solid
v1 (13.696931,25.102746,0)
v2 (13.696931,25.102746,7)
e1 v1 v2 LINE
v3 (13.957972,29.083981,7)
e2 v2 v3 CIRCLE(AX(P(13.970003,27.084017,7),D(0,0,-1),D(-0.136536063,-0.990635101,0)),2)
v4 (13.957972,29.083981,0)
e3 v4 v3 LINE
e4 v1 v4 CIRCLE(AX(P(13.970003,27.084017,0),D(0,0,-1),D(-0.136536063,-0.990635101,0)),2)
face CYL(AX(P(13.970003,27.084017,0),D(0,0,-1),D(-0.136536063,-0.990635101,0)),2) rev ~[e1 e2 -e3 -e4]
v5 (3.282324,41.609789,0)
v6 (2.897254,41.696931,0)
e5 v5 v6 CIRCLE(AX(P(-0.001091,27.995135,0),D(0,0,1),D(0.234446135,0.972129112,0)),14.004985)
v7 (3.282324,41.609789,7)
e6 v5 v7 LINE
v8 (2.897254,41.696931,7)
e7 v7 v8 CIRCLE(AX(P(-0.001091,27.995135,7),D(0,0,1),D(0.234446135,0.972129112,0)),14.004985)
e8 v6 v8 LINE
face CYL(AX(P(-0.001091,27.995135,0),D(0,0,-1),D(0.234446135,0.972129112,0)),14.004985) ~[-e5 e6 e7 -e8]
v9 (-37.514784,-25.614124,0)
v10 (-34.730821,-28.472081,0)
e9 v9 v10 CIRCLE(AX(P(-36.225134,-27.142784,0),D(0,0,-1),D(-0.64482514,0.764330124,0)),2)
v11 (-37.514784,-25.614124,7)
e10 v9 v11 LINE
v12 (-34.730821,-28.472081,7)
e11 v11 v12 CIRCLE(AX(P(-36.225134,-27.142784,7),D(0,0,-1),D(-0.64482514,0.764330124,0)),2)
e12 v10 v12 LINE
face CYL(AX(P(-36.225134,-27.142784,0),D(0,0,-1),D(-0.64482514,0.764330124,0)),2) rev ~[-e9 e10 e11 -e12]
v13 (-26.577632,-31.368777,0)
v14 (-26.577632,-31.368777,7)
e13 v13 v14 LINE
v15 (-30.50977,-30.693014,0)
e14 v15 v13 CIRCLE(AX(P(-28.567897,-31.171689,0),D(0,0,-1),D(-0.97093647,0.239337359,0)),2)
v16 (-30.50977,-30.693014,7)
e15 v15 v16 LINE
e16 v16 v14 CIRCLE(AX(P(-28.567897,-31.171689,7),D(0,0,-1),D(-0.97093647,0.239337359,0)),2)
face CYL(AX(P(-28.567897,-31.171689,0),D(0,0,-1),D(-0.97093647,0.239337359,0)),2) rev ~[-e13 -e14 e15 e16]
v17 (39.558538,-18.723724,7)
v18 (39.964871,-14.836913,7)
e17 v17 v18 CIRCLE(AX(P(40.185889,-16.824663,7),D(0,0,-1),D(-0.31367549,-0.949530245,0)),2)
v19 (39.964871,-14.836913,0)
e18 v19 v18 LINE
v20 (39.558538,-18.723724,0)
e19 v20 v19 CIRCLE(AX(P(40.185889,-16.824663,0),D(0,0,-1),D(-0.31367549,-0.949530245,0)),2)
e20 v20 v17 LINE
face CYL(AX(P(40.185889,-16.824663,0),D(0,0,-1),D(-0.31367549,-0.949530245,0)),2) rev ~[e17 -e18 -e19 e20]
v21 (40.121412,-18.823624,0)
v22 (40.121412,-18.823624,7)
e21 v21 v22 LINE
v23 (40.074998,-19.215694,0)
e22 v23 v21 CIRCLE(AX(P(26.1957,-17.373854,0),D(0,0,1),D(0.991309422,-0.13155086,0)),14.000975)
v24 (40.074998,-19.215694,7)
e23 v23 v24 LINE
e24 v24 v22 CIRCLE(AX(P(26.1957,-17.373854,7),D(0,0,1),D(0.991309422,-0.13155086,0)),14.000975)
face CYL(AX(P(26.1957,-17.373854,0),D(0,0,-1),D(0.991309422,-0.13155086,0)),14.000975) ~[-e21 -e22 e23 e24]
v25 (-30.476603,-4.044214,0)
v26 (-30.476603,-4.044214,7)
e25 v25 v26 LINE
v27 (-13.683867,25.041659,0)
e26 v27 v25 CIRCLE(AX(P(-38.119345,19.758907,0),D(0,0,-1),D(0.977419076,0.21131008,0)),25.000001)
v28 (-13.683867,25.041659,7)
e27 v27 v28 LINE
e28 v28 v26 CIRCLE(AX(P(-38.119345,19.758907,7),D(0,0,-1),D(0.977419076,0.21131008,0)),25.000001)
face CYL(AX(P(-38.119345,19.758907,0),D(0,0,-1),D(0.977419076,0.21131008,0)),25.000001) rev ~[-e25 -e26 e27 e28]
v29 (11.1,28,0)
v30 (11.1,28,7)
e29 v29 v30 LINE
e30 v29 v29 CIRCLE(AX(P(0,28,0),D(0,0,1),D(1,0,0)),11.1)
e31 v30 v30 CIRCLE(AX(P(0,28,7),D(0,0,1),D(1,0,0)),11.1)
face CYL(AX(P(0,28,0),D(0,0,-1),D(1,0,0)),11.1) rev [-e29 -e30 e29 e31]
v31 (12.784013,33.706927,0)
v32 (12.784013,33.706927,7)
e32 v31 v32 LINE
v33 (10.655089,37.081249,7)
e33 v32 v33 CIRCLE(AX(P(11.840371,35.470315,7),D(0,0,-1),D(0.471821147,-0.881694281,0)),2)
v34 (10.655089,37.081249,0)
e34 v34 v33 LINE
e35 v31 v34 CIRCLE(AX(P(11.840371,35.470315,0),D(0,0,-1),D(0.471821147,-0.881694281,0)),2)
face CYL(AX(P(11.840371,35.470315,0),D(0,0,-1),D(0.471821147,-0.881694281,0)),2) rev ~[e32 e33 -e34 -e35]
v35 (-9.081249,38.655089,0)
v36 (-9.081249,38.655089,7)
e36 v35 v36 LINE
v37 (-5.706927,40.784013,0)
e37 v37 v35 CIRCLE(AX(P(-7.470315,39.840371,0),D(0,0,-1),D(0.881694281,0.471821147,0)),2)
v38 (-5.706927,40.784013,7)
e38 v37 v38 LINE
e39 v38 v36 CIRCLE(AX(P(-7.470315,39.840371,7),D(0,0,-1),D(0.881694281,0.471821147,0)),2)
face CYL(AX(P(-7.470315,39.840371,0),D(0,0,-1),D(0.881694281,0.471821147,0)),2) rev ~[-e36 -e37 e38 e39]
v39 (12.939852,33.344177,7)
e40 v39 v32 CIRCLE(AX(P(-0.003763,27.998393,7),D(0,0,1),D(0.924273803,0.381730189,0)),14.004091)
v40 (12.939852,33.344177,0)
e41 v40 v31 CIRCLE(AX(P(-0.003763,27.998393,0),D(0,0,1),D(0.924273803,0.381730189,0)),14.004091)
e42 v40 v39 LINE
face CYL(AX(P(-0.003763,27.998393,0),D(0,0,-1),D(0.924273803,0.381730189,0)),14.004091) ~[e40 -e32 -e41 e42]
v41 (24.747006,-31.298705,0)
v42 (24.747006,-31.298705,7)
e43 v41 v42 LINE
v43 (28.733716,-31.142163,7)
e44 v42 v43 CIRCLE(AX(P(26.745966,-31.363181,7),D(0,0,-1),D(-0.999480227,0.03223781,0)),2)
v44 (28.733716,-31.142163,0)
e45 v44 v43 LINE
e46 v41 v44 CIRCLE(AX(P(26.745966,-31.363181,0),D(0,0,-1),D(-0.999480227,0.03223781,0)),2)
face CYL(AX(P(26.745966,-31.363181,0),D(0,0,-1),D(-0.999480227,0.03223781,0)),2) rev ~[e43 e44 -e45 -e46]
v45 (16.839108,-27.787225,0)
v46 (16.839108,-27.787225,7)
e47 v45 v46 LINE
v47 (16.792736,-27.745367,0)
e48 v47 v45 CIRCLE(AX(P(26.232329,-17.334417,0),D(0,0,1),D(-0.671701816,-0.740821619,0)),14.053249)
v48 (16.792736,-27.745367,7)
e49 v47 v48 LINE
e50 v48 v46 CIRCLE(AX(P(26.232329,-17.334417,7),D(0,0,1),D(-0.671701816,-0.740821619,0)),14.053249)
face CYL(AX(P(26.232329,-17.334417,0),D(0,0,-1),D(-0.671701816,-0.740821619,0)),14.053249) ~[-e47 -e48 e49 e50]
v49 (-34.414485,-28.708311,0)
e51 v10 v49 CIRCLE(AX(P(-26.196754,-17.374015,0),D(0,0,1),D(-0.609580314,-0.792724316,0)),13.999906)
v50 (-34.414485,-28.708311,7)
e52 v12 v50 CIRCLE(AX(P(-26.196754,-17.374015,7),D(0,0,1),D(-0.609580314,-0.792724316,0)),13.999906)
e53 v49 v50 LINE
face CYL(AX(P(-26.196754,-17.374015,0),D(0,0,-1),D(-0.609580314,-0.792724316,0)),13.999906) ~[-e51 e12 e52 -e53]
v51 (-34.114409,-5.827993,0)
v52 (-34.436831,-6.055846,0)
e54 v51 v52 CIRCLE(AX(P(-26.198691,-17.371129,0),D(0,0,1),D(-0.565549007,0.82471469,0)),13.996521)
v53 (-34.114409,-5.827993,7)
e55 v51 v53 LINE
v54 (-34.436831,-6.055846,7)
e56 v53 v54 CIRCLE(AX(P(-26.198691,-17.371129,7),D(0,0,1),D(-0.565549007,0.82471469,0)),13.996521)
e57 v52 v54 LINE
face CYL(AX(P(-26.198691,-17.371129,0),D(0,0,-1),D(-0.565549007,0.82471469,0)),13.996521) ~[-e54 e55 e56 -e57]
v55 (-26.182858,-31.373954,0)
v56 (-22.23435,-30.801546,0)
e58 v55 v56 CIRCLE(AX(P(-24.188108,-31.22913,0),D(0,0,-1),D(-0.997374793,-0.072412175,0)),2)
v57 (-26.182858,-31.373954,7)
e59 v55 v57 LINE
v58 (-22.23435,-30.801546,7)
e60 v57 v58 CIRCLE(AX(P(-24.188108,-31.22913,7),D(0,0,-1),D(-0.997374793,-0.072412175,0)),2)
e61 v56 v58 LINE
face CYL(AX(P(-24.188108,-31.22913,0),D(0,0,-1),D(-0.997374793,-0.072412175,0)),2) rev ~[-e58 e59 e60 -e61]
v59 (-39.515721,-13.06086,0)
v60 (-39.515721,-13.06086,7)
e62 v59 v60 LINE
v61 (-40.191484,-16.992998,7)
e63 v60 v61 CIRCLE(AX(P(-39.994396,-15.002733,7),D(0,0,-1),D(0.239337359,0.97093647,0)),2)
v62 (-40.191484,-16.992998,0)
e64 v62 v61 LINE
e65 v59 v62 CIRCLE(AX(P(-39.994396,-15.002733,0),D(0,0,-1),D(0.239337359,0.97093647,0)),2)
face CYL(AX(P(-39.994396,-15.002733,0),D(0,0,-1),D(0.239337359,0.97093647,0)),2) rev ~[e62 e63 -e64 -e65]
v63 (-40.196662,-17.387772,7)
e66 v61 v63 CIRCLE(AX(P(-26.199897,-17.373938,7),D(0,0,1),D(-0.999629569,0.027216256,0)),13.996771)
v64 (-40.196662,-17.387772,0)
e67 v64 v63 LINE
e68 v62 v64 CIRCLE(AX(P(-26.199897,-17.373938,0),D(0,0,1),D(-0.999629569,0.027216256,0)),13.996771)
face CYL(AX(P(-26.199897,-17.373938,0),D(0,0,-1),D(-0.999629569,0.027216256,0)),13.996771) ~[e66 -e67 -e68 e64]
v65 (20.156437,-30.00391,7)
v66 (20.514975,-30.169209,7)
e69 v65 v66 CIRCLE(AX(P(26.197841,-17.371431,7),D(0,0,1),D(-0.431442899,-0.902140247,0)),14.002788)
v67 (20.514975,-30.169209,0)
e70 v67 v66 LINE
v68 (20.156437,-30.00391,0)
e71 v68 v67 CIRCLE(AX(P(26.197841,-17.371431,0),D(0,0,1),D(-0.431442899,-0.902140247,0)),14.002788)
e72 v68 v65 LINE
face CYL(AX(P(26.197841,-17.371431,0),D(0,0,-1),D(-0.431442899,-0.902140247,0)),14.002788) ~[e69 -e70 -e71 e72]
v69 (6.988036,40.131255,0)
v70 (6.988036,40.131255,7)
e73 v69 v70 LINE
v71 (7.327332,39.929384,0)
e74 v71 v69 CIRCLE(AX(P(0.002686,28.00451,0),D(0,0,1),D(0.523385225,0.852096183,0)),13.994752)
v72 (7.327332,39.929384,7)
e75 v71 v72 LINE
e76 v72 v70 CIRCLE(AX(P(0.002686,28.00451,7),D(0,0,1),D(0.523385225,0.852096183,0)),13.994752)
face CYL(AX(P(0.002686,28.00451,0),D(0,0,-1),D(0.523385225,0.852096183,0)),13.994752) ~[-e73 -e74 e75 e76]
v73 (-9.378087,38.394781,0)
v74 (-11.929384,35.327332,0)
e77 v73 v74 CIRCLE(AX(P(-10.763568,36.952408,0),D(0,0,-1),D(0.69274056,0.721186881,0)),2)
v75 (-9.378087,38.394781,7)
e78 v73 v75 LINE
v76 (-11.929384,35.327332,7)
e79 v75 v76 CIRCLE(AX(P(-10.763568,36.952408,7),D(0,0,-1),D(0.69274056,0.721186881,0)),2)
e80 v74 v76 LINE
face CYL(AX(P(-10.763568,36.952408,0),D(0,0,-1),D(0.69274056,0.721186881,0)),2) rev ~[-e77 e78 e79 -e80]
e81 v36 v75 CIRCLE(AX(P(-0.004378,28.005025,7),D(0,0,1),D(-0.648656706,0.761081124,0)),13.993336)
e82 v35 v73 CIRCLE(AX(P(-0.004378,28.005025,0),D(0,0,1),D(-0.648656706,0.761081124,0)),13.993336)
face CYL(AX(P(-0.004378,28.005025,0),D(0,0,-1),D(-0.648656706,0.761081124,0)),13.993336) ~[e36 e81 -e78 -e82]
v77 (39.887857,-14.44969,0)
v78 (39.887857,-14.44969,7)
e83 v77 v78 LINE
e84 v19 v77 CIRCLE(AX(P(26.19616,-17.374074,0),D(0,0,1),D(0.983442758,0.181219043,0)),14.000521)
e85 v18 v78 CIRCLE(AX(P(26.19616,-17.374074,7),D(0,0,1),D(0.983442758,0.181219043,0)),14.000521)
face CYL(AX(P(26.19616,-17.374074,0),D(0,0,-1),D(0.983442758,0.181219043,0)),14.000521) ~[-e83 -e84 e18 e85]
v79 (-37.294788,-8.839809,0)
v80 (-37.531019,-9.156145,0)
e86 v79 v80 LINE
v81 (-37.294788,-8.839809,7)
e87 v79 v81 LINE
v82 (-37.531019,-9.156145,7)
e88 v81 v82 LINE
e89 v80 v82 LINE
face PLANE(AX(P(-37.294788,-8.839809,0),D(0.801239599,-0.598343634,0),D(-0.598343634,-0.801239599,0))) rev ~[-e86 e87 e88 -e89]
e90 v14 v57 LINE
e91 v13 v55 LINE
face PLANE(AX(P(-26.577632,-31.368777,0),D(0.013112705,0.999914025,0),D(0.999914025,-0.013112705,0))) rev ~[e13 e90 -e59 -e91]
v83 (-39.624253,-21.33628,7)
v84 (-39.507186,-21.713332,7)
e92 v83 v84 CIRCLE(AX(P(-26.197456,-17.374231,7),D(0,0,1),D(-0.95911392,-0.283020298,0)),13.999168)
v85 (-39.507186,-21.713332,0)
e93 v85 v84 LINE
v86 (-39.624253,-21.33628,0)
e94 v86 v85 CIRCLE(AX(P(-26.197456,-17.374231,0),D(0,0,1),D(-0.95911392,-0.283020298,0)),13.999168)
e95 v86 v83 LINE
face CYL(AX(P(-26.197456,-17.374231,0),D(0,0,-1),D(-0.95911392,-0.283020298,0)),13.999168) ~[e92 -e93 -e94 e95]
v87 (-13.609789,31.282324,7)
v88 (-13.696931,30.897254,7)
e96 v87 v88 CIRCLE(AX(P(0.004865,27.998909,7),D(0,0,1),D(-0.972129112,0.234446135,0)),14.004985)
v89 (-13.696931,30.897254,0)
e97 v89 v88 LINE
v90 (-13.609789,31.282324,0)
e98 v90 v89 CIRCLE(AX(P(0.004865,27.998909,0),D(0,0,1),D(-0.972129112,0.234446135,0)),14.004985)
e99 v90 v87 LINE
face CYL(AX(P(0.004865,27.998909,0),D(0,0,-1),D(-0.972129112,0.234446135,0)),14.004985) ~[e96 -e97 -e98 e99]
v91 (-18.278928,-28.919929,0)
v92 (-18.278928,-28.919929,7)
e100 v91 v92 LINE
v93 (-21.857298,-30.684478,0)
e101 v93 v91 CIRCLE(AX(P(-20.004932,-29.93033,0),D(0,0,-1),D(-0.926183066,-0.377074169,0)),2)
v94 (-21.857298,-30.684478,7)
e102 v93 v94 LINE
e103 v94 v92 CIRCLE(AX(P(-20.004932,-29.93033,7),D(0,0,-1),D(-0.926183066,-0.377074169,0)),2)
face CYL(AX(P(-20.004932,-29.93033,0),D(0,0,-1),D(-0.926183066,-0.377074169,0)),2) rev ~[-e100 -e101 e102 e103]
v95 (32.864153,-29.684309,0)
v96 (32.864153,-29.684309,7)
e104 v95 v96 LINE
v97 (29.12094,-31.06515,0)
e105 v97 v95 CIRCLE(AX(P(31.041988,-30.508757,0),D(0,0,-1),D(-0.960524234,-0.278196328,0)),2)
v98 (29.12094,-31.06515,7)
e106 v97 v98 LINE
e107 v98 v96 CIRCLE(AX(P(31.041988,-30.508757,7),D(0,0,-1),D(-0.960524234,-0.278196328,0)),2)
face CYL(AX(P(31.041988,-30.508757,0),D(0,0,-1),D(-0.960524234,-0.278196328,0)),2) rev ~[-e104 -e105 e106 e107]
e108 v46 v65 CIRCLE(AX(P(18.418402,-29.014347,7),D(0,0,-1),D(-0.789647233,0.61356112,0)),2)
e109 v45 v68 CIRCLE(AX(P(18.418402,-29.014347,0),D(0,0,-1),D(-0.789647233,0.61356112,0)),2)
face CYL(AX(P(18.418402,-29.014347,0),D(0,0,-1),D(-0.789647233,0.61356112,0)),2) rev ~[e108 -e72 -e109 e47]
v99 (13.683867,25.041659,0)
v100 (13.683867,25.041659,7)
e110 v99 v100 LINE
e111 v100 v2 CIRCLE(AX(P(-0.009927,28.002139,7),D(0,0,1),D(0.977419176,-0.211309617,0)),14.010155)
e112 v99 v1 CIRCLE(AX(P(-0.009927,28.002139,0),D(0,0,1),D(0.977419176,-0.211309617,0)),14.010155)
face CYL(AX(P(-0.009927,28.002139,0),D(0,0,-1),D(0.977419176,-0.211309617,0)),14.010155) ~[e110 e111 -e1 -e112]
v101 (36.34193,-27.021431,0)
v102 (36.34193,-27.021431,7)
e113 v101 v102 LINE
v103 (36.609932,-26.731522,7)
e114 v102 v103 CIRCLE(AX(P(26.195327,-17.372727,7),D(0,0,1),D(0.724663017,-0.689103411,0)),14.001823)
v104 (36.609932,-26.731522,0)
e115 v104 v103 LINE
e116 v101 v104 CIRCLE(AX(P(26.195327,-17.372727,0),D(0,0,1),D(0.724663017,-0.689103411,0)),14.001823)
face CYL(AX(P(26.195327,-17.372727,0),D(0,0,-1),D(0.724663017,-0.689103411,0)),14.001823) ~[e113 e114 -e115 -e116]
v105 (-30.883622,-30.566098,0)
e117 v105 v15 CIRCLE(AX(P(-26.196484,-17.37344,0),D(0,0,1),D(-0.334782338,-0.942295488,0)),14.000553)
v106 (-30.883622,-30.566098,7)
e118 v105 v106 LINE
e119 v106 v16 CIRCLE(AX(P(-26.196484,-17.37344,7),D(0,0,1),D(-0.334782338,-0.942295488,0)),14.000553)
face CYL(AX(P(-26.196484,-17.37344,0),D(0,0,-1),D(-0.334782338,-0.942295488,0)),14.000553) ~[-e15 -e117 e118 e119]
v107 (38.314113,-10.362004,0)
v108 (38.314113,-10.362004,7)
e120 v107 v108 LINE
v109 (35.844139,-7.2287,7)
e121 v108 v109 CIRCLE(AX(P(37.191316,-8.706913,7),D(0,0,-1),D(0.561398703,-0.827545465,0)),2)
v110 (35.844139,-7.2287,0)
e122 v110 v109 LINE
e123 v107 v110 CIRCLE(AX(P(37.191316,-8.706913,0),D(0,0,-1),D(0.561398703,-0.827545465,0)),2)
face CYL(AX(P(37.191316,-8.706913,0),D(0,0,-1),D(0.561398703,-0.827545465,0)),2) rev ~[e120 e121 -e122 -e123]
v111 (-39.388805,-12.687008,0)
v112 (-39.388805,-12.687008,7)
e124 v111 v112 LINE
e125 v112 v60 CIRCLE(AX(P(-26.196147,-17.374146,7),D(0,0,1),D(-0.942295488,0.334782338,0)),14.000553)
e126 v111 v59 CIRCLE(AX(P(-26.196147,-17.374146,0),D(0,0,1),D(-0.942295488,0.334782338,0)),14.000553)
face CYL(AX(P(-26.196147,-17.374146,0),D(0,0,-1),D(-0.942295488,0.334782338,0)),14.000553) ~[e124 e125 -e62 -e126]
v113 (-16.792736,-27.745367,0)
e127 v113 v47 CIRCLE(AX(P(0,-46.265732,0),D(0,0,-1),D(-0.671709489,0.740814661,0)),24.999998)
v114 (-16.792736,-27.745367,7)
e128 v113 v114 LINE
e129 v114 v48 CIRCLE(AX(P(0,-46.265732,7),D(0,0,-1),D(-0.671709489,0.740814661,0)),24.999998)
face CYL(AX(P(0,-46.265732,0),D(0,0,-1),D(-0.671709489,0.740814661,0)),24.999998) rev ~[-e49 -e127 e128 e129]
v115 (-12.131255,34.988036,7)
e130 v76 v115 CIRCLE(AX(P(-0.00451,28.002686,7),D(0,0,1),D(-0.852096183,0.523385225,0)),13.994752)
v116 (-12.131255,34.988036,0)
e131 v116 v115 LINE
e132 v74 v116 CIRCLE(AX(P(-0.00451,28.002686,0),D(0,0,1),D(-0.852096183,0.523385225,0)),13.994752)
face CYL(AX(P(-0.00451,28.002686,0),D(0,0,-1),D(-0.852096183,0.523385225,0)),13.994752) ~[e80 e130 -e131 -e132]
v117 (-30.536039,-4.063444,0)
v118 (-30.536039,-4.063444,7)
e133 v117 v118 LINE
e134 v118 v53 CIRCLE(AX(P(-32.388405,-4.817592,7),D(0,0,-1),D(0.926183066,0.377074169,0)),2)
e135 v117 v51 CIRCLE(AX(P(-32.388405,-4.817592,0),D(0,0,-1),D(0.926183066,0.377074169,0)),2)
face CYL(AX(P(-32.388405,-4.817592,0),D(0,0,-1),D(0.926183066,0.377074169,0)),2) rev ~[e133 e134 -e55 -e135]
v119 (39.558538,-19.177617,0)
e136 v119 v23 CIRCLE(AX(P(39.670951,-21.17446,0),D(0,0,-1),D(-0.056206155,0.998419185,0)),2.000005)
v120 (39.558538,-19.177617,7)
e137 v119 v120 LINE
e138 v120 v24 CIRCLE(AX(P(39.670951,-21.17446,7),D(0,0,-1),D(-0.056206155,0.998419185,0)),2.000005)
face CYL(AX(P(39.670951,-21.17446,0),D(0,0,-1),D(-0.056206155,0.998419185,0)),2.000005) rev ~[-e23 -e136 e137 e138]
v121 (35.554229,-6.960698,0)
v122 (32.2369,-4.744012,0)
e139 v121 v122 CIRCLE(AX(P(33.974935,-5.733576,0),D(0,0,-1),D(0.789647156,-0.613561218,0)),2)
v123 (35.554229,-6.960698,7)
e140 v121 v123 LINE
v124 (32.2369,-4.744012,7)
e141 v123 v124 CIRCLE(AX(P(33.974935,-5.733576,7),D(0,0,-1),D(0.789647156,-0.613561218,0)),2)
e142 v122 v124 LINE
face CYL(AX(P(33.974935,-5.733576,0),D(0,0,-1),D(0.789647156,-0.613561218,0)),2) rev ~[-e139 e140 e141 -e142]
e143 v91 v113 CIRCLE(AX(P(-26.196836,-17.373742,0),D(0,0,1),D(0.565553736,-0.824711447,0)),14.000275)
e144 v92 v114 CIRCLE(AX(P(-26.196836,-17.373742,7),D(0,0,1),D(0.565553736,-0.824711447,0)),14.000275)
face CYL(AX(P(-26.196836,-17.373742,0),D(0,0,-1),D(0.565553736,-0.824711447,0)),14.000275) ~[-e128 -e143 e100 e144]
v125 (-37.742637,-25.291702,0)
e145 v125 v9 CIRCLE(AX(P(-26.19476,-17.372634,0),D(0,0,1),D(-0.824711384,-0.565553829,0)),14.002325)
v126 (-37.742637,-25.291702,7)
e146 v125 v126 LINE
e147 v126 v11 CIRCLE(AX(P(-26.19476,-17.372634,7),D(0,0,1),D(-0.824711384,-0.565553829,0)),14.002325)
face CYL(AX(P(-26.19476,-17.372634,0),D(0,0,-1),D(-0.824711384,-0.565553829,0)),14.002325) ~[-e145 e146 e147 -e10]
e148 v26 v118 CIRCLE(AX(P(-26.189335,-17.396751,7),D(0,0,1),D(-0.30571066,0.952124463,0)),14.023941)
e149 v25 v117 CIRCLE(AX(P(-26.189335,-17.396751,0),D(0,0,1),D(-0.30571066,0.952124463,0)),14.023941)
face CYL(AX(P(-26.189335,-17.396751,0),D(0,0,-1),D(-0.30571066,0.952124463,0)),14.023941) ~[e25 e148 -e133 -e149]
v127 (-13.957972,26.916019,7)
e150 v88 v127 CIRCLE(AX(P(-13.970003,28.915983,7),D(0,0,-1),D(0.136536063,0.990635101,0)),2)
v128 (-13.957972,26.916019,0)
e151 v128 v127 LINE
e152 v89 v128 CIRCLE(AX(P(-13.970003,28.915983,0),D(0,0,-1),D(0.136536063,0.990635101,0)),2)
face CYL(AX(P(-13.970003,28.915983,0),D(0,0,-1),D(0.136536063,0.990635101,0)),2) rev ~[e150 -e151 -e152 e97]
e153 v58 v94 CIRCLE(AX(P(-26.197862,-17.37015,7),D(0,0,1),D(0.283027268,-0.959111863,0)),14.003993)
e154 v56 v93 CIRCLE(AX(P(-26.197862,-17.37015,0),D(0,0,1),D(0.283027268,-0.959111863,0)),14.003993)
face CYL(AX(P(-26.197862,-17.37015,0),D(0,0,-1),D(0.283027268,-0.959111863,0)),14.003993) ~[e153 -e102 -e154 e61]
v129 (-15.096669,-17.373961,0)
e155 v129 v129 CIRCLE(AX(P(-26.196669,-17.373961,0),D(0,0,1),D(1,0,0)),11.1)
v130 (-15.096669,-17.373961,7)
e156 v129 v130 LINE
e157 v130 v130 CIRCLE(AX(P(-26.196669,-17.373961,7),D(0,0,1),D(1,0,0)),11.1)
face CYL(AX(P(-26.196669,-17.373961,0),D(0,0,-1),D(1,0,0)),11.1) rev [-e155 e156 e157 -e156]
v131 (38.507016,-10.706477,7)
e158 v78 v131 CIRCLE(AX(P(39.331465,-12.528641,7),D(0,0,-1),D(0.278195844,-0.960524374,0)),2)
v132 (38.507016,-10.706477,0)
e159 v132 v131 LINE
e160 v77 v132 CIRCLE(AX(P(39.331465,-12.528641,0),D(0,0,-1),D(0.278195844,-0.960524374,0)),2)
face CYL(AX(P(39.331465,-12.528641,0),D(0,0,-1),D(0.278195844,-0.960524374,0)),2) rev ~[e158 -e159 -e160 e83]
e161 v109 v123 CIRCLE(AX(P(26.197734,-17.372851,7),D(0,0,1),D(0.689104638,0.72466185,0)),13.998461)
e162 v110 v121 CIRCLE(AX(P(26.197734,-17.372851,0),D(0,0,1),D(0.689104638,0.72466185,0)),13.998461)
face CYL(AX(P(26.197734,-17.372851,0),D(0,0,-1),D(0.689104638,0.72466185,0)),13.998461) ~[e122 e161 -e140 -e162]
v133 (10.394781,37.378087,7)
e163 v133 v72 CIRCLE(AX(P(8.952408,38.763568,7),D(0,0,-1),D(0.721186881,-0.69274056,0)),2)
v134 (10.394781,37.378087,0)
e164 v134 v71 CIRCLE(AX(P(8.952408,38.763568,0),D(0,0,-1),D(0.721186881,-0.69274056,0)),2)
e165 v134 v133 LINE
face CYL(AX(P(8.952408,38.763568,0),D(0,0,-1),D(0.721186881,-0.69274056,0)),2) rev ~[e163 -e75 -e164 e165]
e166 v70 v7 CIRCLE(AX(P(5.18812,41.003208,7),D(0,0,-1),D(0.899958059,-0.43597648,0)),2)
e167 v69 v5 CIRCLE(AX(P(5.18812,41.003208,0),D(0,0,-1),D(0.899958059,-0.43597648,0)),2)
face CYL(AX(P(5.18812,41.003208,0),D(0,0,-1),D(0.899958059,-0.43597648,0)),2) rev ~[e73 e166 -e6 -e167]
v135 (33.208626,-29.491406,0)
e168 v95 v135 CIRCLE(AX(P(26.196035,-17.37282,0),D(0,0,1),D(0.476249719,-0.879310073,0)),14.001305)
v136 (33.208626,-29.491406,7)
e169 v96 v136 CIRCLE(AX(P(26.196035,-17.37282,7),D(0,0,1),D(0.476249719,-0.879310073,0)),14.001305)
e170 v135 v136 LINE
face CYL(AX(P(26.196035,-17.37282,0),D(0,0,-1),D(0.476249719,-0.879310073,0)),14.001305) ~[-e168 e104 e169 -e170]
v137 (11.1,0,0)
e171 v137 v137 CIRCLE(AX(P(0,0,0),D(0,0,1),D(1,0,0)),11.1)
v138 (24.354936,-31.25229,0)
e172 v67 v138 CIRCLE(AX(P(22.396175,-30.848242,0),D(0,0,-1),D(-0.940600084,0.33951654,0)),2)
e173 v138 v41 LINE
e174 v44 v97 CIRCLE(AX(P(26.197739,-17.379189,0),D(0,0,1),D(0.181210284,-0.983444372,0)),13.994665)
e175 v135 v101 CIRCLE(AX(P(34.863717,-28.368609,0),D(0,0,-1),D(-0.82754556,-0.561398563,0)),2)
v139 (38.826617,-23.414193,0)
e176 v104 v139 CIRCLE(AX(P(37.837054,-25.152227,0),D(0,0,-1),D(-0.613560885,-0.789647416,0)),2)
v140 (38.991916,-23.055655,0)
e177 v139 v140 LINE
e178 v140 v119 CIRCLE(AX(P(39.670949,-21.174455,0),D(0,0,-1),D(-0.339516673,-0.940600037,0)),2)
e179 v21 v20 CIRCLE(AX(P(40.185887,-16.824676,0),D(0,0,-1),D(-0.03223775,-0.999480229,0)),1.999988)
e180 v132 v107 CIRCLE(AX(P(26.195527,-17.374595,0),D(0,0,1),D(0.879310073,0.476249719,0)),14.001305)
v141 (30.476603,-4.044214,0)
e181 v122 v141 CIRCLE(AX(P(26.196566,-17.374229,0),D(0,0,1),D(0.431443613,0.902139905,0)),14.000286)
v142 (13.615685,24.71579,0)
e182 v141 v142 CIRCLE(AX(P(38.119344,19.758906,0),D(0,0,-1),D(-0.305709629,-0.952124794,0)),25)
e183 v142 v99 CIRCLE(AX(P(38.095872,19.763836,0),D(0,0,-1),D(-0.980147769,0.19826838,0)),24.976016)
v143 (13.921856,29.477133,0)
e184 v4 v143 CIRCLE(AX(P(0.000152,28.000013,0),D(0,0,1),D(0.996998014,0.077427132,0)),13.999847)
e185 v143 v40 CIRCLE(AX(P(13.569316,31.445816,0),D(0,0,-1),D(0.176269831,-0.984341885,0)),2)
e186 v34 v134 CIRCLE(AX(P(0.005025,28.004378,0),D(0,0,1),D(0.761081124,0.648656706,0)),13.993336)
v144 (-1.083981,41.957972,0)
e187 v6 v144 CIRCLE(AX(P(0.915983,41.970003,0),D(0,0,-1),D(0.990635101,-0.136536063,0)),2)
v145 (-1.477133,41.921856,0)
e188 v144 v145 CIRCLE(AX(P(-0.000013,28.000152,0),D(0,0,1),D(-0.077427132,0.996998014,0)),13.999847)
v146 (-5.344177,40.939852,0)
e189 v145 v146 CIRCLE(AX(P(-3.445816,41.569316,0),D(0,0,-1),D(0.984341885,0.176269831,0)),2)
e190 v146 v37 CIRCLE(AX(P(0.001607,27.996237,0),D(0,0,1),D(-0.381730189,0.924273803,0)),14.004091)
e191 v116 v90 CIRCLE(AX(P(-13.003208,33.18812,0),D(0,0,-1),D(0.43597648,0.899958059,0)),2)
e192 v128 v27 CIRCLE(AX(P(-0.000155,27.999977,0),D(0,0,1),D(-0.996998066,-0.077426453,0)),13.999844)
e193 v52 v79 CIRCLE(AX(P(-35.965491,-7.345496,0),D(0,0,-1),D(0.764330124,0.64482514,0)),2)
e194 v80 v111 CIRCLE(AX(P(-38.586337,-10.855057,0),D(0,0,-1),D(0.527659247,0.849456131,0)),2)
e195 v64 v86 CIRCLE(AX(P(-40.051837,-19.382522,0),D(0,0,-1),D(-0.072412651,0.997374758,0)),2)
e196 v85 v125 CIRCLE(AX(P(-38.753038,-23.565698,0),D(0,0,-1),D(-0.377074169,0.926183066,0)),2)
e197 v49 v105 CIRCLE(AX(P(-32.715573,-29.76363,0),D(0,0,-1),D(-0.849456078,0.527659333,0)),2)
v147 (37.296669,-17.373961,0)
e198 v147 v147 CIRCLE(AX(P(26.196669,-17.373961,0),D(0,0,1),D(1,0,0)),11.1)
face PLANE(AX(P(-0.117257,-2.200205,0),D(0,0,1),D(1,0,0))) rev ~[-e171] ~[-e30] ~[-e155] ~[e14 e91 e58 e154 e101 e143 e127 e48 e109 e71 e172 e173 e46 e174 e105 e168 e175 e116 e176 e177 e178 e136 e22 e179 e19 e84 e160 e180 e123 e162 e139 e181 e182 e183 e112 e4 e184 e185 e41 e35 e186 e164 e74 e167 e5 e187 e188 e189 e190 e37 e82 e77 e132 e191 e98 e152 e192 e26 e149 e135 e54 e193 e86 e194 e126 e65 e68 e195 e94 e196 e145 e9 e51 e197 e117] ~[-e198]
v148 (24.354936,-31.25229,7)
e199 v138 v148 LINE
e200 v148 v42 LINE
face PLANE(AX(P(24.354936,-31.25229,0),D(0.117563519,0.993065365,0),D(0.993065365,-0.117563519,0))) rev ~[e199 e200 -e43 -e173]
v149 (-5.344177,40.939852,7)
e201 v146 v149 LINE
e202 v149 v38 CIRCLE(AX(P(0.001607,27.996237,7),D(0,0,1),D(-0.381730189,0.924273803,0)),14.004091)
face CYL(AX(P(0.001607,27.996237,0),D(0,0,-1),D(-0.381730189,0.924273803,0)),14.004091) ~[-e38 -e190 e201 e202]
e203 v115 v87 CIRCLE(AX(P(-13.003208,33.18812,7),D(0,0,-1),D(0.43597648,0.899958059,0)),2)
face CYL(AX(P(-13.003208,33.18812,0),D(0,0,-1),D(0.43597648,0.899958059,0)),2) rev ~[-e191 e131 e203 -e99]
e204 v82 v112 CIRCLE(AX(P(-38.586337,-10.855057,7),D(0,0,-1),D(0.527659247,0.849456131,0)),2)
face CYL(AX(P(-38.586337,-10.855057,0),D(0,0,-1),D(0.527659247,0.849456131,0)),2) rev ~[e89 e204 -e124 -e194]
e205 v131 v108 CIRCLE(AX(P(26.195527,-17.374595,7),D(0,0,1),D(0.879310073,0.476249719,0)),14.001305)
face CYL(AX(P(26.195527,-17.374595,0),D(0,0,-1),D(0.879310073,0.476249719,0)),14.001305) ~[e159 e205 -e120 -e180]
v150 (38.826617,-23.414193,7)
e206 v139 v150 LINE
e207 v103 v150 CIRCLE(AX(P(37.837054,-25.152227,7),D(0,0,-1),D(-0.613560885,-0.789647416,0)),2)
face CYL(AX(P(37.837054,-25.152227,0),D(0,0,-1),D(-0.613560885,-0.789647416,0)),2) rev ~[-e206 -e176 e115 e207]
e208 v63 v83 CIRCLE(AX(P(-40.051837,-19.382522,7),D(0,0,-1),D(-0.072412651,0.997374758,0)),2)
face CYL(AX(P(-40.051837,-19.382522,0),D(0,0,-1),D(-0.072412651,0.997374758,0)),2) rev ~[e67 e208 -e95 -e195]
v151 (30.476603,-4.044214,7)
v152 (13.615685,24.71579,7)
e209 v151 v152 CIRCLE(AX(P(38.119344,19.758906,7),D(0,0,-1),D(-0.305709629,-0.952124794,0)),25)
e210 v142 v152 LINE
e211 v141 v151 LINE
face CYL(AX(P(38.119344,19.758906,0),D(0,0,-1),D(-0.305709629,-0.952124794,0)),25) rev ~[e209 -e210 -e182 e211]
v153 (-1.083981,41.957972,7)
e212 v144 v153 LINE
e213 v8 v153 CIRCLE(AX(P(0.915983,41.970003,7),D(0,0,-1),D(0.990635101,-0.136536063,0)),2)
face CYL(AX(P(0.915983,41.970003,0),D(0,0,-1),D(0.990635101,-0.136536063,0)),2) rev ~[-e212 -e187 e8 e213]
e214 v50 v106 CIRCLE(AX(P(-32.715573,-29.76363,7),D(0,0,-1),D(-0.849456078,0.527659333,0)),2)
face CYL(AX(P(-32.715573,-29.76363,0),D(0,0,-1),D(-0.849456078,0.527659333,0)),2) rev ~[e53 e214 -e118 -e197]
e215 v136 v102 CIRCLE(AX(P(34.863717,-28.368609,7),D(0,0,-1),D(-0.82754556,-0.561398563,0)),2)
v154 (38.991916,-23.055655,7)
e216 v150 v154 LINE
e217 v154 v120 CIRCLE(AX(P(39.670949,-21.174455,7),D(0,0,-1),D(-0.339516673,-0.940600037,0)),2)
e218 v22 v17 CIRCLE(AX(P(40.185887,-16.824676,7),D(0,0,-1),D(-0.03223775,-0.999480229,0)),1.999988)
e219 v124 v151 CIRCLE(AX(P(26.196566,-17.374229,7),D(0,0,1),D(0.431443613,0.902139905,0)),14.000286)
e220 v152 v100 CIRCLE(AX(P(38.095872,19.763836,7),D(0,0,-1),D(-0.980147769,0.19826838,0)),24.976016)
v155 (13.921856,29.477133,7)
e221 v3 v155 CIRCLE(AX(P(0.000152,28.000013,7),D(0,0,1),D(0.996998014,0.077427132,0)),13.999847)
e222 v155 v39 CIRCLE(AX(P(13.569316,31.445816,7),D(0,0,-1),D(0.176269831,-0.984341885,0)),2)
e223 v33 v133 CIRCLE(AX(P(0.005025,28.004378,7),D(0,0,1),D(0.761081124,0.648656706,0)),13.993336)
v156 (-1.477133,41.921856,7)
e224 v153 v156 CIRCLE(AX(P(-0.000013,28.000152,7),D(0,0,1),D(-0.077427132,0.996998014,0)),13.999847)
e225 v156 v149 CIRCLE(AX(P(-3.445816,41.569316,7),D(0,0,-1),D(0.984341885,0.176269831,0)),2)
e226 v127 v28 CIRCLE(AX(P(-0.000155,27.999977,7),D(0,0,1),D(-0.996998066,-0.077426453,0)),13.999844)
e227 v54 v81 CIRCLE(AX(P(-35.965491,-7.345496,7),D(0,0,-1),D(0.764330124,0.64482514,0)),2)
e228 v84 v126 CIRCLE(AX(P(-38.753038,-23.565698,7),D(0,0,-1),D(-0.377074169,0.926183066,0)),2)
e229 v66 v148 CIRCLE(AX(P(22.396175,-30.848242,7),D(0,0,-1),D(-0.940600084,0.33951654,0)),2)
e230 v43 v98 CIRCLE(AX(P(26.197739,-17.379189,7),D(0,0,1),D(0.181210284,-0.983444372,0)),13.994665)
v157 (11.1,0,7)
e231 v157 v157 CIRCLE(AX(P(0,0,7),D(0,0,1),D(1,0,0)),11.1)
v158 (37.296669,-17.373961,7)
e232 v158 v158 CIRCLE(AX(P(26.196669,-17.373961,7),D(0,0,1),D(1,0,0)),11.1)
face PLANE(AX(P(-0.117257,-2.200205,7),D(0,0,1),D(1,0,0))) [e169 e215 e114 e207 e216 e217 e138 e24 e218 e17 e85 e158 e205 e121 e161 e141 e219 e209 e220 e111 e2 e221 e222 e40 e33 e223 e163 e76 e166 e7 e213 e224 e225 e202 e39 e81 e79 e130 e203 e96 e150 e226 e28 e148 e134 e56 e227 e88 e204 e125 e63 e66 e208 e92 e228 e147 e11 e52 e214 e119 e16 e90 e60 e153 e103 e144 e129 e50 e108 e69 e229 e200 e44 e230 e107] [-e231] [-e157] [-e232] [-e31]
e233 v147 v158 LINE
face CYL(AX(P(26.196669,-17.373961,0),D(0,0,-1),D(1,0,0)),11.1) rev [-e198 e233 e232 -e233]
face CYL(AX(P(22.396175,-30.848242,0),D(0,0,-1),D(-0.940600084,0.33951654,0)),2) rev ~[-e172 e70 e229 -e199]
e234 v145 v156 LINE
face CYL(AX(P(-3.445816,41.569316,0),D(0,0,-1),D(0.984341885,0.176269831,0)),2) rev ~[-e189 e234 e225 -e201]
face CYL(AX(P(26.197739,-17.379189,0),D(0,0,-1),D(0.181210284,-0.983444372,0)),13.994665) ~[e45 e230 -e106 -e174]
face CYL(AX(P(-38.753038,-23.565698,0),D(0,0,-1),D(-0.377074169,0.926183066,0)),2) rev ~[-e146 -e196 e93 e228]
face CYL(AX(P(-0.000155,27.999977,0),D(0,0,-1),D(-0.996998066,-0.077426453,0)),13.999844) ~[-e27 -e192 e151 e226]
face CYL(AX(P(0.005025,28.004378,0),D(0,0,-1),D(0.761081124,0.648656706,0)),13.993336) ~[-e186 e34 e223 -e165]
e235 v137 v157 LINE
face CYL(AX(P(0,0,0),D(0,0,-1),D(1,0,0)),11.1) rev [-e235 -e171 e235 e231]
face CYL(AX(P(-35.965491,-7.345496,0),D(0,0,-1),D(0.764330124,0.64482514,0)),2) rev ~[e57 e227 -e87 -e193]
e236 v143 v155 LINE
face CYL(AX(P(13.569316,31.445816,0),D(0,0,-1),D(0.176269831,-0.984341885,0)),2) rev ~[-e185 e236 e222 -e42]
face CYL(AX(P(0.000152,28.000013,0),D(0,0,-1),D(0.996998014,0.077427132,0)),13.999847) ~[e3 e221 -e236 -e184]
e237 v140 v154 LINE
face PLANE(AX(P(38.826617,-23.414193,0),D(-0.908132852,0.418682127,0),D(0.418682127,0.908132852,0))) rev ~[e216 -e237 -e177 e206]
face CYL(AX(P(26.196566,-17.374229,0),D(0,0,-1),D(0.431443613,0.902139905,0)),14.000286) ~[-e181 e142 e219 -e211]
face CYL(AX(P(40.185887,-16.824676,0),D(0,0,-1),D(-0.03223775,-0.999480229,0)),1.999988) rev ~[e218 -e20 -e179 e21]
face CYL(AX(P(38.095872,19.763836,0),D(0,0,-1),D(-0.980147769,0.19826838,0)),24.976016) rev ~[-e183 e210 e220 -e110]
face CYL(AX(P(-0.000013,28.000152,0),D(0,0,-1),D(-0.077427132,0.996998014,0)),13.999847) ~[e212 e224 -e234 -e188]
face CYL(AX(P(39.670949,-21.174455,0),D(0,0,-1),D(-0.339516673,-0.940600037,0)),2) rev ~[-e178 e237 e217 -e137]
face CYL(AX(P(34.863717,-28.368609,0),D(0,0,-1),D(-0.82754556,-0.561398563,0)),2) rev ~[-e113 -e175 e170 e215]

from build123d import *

# Parameters (mm, degrees)
F0_R     = 11.1
F1_DEPTH = 7


with BuildPart() as f1:
    # F0 (on Top) → F1 (new body)
    with BuildSketch(Plane.XY):
        with BuildLine():
            ThreePointArc((13.696931, 25.102746), (11.974288, 27.214871), (13.957972, 29.083981))
            ThreePointArc((13.957972, 29.083981), (13.9413, 29.280684), (13.921856, 29.477133))
            ThreePointArc((13.921856, 29.477133), (11.630843, 30.953557), (12.939852, 33.344177))
            ThreePointArc((12.939852, 33.344177), (12.863211, 33.526101), (12.784013, 33.706927))
            ThreePointArc((12.784013, 33.706927), (10.148889, 34.403128), (10.655089, 37.081249))
            ThreePointArc((10.655089, 37.081249), (10.525982, 37.230586), (10.394781, 37.378087))
            ThreePointArc((10.394781, 37.378087), (7.673492, 37.225916), (7.327332, 39.929384))
            ThreePointArc((7.327332, 39.929384), (7.158396, 40.031516), (6.988036, 40.131255))
            ThreePointArc((6.988036, 40.131255), (4.44696, 39.145607), (3.282324, 41.609789))
            ThreePointArc((3.282324, 41.609789), (3.090096, 41.654717), (2.897254, 41.696931))
            ThreePointArc((2.897254, 41.696931), (0.785129, 39.974288), (-1.083981, 41.957972))
            ThreePointArc((-1.083981, 41.957972), (-1.280684, 41.9413), (-1.477133, 41.921856))
            ThreePointArc((-1.477133, 41.921856), (-2.953557, 39.630843), (-5.344177, 40.939852))
            ThreePointArc((-5.344177, 40.939852), (-5.526101, 40.863211), (-5.706927, 40.784013))
            ThreePointArc((-5.706927, 40.784013), (-6.403128, 38.148889), (-9.081249, 38.655089))
            ThreePointArc((-9.081249, 38.655089), (-9.230586, 38.525982), (-9.378087, 38.394781))
            ThreePointArc((-9.378087, 38.394781), (-9.225916, 35.673492), (-11.929384, 35.327332))
            ThreePointArc((-11.929384, 35.327332), (-12.031516, 35.158396), (-12.131255, 34.988036))
            ThreePointArc((-12.131255, 34.988036), (-11.145607, 32.44696), (-13.609789, 31.282324))
            ThreePointArc((-13.609789, 31.282324), (-13.654717, 31.090096), (-13.696931, 30.897254))
            ThreePointArc((-13.696931, 30.897254), (-11.974288, 28.785129), (-13.957972, 26.916019))
            ThreePointArc((-13.957972, 26.916019), (-13.852658, 25.974198), (-13.683867, 25.041659))
            ThreePointArc((-13.683867, 25.041659), (-16.468709, 7.258906), (-30.476603, -4.044214))
            ThreePointArc((-30.476603, -4.044214), (-30.506332, -4.053796), (-30.536039, -4.063444))
            ThreePointArc((-30.536039, -4.063444), (-31.503871, -6.611359), (-34.114409, -5.827993))
            ThreePointArc((-34.114409, -5.827993), (-34.276424, -5.940783), (-34.436831, -6.055846))
            ThreePointArc((-34.436831, -6.055846), (-34.569945, -8.778134), (-37.294788, -8.839809))
            Line((-37.294788, -8.839809), (-37.531019, -9.156145))
            ThreePointArc((-37.531019, -9.156145), (-36.816385, -11.786329), (-39.388805, -12.687008))
            ThreePointArc((-39.388805, -12.687008), (-39.453581, -12.873487), (-39.515721, -13.06086))
            ThreePointArc((-39.515721, -13.06086), (-38.023292, -15.34148), (-40.191484, -16.992998))
            ThreePointArc((-40.191484, -16.992998), (-40.195465, -17.190367), (-40.196662, -17.387772))
            ThreePointArc((-40.196662, -17.387772), (-38.072527, -19.095584), (-39.624253, -21.33628))
            ThreePointArc((-39.624253, -21.33628), (-39.567049, -21.525218), (-39.507186, -21.713332))
            ThreePointArc((-39.507186, -21.713332), (-36.959271, -22.681164), (-37.742637, -25.291702))
            ThreePointArc((-37.742637, -25.291702), (-37.629847, -25.453716), (-37.514784, -25.614124))
            ThreePointArc((-37.514784, -25.614124), (-34.792496, -25.747238), (-34.730821, -28.472081))
            ThreePointArc((-34.730821, -28.472081), (-34.573486, -28.591311), (-34.414485, -28.708311))
            ThreePointArc((-34.414485, -28.708311), (-31.784301, -27.993677), (-30.883622, -30.566098))
            ThreePointArc((-30.883622, -30.566098), (-30.697143, -30.630874), (-30.50977, -30.693014))
            ThreePointArc((-30.50977, -30.693014), (-28.22915, -29.200585), (-26.577632, -31.368777))
            Line((-26.577632, -31.368777), (-26.182858, -31.373954))
            ThreePointArc((-26.182858, -31.373954), (-24.475046, -29.24982), (-22.23435, -30.801546))
            ThreePointArc((-22.23435, -30.801546), (-22.045412, -30.744341), (-21.857298, -30.684478))
            ThreePointArc((-21.857298, -30.684478), (-20.889466, -28.136563), (-18.278928, -28.919929))
            ThreePointArc((-18.278928, -28.919929), (-17.515944, -28.357813), (-16.792736, -27.745367))
            ThreePointArc((-16.792736, -27.745367), (0, -21.265734), (16.792736, -27.745367))
            ThreePointArc((16.792736, -27.745367), (16.815899, -27.766322), (16.839108, -27.787225))
            ThreePointArc((16.839108, -27.787225), (19.529583, -27.351435), (20.156437, -30.00391))
            ThreePointArc((20.156437, -30.00391), (20.335123, -30.087823), (20.514975, -30.169209))
            ThreePointArc((20.514975, -30.169209), (22.939103, -28.923345), (24.354936, -31.25229))
            Line((24.354936, -31.25229), (24.747006, -31.298705))
            ThreePointArc((24.747006, -31.298705), (26.667495, -29.364721), (28.733716, -31.142163))
            ThreePointArc((28.733716, -31.142163), (28.9276, -31.105022), (29.12094, -31.06515))
            ThreePointArc((29.12094, -31.06515), (30.3498, -28.632358), (32.864153, -29.684309))
            ThreePointArc((32.864153, -29.684309), (33.037069, -29.589072), (33.208626, -29.491406))
            ThreePointArc((33.208626, -29.491406), (33.625567, -26.797945), (36.34193, -27.021431))
            ThreePointArc((36.34193, -27.021431), (36.476953, -26.877421), (36.609932, -26.731522))
            ThreePointArc((36.609932, -26.731522), (36.174142, -24.041046), (38.826617, -23.414193))
            Line((38.826617, -23.414193), (38.991916, -23.055655))
            ThreePointArc((38.991916, -23.055655), (37.691962, -20.885304), (39.558538, -19.177617))
            Line((39.558538, -19.177617), (39.558538, -18.723724))
            ThreePointArc((39.558538, -18.723724), (38.196729, -16.616714), (39.964871, -14.836913))
            ThreePointArc((39.964871, -14.836913), (39.927729, -14.64303), (39.887857, -14.44969))
            ThreePointArc((39.887857, -14.44969), (37.455066, -13.22083), (38.507016, -10.706477))
            ThreePointArc((38.507016, -10.706477), (38.411779, -10.533561), (38.314113, -10.362004))
            ThreePointArc((38.314113, -10.362004), (35.620652, -9.945063), (35.844139, -7.2287))
            ThreePointArc((35.844139, -7.2287), (35.700129, -7.093677), (35.554229, -6.960698))
            ThreePointArc((35.554229, -6.960698), (32.863754, -7.396488), (32.2369, -4.744012))
            ThreePointArc((32.2369, -4.744012), (31.368601, -4.364307), (30.476603, -4.044214))
            ThreePointArc((30.476603, -4.044214), (16.55242, 7.115022), (13.615685, 24.71579))
            ThreePointArc((13.615685, 24.71579), (13.612737, 24.716735), (13.609789, 24.717676))
            ThreePointArc((13.609789, 24.717676), (13.647789, 24.879448), (13.683867, 25.041659))
            ThreePointArc((13.683867, 25.041659), (13.690433, 25.072195), (13.696931, 25.102746))
        make_face()
        with Locations((-26.196669, -17.373961)):
            Circle(F0_R, mode=Mode.SUBTRACT)
        with Locations((26.196669, -17.373961)):
            Circle(F0_R, mode=Mode.SUBTRACT)
        Circle(F0_R, mode=Mode.SUBTRACT)
        with Locations((0, 28)):
            Circle(F0_R, mode=Mode.SUBTRACT)
        with BuildLine():
            ThreePointArc((13.615685, 24.71579), (13.649233, 24.878838), (13.683867, 25.041659))
            ThreePointArc((13.683867, 25.041659), (13.647789, 24.879448), (13.609789, 24.717676))
            ThreePointArc((13.609789, 24.717676), (13.612737, 24.716735), (13.615685, 24.71579))
        make_face()
        with BuildLine():
            ThreePointArc((40.121412, -18.823624), (39.836387, -18.793889), (39.558538, -18.723724))
            Line((39.558538, -18.723724), (39.558538, -19.177617))
            ThreePointArc((39.558538, -19.177617), (39.818006, -19.179869), (40.074998, -19.215694))
            ThreePointArc((40.074998, -19.215694), (40.099587, -19.019823), (40.121412, -18.823624))
        make_face()
    extrude(amount=F1_DEPTH)


solid = f1.part
